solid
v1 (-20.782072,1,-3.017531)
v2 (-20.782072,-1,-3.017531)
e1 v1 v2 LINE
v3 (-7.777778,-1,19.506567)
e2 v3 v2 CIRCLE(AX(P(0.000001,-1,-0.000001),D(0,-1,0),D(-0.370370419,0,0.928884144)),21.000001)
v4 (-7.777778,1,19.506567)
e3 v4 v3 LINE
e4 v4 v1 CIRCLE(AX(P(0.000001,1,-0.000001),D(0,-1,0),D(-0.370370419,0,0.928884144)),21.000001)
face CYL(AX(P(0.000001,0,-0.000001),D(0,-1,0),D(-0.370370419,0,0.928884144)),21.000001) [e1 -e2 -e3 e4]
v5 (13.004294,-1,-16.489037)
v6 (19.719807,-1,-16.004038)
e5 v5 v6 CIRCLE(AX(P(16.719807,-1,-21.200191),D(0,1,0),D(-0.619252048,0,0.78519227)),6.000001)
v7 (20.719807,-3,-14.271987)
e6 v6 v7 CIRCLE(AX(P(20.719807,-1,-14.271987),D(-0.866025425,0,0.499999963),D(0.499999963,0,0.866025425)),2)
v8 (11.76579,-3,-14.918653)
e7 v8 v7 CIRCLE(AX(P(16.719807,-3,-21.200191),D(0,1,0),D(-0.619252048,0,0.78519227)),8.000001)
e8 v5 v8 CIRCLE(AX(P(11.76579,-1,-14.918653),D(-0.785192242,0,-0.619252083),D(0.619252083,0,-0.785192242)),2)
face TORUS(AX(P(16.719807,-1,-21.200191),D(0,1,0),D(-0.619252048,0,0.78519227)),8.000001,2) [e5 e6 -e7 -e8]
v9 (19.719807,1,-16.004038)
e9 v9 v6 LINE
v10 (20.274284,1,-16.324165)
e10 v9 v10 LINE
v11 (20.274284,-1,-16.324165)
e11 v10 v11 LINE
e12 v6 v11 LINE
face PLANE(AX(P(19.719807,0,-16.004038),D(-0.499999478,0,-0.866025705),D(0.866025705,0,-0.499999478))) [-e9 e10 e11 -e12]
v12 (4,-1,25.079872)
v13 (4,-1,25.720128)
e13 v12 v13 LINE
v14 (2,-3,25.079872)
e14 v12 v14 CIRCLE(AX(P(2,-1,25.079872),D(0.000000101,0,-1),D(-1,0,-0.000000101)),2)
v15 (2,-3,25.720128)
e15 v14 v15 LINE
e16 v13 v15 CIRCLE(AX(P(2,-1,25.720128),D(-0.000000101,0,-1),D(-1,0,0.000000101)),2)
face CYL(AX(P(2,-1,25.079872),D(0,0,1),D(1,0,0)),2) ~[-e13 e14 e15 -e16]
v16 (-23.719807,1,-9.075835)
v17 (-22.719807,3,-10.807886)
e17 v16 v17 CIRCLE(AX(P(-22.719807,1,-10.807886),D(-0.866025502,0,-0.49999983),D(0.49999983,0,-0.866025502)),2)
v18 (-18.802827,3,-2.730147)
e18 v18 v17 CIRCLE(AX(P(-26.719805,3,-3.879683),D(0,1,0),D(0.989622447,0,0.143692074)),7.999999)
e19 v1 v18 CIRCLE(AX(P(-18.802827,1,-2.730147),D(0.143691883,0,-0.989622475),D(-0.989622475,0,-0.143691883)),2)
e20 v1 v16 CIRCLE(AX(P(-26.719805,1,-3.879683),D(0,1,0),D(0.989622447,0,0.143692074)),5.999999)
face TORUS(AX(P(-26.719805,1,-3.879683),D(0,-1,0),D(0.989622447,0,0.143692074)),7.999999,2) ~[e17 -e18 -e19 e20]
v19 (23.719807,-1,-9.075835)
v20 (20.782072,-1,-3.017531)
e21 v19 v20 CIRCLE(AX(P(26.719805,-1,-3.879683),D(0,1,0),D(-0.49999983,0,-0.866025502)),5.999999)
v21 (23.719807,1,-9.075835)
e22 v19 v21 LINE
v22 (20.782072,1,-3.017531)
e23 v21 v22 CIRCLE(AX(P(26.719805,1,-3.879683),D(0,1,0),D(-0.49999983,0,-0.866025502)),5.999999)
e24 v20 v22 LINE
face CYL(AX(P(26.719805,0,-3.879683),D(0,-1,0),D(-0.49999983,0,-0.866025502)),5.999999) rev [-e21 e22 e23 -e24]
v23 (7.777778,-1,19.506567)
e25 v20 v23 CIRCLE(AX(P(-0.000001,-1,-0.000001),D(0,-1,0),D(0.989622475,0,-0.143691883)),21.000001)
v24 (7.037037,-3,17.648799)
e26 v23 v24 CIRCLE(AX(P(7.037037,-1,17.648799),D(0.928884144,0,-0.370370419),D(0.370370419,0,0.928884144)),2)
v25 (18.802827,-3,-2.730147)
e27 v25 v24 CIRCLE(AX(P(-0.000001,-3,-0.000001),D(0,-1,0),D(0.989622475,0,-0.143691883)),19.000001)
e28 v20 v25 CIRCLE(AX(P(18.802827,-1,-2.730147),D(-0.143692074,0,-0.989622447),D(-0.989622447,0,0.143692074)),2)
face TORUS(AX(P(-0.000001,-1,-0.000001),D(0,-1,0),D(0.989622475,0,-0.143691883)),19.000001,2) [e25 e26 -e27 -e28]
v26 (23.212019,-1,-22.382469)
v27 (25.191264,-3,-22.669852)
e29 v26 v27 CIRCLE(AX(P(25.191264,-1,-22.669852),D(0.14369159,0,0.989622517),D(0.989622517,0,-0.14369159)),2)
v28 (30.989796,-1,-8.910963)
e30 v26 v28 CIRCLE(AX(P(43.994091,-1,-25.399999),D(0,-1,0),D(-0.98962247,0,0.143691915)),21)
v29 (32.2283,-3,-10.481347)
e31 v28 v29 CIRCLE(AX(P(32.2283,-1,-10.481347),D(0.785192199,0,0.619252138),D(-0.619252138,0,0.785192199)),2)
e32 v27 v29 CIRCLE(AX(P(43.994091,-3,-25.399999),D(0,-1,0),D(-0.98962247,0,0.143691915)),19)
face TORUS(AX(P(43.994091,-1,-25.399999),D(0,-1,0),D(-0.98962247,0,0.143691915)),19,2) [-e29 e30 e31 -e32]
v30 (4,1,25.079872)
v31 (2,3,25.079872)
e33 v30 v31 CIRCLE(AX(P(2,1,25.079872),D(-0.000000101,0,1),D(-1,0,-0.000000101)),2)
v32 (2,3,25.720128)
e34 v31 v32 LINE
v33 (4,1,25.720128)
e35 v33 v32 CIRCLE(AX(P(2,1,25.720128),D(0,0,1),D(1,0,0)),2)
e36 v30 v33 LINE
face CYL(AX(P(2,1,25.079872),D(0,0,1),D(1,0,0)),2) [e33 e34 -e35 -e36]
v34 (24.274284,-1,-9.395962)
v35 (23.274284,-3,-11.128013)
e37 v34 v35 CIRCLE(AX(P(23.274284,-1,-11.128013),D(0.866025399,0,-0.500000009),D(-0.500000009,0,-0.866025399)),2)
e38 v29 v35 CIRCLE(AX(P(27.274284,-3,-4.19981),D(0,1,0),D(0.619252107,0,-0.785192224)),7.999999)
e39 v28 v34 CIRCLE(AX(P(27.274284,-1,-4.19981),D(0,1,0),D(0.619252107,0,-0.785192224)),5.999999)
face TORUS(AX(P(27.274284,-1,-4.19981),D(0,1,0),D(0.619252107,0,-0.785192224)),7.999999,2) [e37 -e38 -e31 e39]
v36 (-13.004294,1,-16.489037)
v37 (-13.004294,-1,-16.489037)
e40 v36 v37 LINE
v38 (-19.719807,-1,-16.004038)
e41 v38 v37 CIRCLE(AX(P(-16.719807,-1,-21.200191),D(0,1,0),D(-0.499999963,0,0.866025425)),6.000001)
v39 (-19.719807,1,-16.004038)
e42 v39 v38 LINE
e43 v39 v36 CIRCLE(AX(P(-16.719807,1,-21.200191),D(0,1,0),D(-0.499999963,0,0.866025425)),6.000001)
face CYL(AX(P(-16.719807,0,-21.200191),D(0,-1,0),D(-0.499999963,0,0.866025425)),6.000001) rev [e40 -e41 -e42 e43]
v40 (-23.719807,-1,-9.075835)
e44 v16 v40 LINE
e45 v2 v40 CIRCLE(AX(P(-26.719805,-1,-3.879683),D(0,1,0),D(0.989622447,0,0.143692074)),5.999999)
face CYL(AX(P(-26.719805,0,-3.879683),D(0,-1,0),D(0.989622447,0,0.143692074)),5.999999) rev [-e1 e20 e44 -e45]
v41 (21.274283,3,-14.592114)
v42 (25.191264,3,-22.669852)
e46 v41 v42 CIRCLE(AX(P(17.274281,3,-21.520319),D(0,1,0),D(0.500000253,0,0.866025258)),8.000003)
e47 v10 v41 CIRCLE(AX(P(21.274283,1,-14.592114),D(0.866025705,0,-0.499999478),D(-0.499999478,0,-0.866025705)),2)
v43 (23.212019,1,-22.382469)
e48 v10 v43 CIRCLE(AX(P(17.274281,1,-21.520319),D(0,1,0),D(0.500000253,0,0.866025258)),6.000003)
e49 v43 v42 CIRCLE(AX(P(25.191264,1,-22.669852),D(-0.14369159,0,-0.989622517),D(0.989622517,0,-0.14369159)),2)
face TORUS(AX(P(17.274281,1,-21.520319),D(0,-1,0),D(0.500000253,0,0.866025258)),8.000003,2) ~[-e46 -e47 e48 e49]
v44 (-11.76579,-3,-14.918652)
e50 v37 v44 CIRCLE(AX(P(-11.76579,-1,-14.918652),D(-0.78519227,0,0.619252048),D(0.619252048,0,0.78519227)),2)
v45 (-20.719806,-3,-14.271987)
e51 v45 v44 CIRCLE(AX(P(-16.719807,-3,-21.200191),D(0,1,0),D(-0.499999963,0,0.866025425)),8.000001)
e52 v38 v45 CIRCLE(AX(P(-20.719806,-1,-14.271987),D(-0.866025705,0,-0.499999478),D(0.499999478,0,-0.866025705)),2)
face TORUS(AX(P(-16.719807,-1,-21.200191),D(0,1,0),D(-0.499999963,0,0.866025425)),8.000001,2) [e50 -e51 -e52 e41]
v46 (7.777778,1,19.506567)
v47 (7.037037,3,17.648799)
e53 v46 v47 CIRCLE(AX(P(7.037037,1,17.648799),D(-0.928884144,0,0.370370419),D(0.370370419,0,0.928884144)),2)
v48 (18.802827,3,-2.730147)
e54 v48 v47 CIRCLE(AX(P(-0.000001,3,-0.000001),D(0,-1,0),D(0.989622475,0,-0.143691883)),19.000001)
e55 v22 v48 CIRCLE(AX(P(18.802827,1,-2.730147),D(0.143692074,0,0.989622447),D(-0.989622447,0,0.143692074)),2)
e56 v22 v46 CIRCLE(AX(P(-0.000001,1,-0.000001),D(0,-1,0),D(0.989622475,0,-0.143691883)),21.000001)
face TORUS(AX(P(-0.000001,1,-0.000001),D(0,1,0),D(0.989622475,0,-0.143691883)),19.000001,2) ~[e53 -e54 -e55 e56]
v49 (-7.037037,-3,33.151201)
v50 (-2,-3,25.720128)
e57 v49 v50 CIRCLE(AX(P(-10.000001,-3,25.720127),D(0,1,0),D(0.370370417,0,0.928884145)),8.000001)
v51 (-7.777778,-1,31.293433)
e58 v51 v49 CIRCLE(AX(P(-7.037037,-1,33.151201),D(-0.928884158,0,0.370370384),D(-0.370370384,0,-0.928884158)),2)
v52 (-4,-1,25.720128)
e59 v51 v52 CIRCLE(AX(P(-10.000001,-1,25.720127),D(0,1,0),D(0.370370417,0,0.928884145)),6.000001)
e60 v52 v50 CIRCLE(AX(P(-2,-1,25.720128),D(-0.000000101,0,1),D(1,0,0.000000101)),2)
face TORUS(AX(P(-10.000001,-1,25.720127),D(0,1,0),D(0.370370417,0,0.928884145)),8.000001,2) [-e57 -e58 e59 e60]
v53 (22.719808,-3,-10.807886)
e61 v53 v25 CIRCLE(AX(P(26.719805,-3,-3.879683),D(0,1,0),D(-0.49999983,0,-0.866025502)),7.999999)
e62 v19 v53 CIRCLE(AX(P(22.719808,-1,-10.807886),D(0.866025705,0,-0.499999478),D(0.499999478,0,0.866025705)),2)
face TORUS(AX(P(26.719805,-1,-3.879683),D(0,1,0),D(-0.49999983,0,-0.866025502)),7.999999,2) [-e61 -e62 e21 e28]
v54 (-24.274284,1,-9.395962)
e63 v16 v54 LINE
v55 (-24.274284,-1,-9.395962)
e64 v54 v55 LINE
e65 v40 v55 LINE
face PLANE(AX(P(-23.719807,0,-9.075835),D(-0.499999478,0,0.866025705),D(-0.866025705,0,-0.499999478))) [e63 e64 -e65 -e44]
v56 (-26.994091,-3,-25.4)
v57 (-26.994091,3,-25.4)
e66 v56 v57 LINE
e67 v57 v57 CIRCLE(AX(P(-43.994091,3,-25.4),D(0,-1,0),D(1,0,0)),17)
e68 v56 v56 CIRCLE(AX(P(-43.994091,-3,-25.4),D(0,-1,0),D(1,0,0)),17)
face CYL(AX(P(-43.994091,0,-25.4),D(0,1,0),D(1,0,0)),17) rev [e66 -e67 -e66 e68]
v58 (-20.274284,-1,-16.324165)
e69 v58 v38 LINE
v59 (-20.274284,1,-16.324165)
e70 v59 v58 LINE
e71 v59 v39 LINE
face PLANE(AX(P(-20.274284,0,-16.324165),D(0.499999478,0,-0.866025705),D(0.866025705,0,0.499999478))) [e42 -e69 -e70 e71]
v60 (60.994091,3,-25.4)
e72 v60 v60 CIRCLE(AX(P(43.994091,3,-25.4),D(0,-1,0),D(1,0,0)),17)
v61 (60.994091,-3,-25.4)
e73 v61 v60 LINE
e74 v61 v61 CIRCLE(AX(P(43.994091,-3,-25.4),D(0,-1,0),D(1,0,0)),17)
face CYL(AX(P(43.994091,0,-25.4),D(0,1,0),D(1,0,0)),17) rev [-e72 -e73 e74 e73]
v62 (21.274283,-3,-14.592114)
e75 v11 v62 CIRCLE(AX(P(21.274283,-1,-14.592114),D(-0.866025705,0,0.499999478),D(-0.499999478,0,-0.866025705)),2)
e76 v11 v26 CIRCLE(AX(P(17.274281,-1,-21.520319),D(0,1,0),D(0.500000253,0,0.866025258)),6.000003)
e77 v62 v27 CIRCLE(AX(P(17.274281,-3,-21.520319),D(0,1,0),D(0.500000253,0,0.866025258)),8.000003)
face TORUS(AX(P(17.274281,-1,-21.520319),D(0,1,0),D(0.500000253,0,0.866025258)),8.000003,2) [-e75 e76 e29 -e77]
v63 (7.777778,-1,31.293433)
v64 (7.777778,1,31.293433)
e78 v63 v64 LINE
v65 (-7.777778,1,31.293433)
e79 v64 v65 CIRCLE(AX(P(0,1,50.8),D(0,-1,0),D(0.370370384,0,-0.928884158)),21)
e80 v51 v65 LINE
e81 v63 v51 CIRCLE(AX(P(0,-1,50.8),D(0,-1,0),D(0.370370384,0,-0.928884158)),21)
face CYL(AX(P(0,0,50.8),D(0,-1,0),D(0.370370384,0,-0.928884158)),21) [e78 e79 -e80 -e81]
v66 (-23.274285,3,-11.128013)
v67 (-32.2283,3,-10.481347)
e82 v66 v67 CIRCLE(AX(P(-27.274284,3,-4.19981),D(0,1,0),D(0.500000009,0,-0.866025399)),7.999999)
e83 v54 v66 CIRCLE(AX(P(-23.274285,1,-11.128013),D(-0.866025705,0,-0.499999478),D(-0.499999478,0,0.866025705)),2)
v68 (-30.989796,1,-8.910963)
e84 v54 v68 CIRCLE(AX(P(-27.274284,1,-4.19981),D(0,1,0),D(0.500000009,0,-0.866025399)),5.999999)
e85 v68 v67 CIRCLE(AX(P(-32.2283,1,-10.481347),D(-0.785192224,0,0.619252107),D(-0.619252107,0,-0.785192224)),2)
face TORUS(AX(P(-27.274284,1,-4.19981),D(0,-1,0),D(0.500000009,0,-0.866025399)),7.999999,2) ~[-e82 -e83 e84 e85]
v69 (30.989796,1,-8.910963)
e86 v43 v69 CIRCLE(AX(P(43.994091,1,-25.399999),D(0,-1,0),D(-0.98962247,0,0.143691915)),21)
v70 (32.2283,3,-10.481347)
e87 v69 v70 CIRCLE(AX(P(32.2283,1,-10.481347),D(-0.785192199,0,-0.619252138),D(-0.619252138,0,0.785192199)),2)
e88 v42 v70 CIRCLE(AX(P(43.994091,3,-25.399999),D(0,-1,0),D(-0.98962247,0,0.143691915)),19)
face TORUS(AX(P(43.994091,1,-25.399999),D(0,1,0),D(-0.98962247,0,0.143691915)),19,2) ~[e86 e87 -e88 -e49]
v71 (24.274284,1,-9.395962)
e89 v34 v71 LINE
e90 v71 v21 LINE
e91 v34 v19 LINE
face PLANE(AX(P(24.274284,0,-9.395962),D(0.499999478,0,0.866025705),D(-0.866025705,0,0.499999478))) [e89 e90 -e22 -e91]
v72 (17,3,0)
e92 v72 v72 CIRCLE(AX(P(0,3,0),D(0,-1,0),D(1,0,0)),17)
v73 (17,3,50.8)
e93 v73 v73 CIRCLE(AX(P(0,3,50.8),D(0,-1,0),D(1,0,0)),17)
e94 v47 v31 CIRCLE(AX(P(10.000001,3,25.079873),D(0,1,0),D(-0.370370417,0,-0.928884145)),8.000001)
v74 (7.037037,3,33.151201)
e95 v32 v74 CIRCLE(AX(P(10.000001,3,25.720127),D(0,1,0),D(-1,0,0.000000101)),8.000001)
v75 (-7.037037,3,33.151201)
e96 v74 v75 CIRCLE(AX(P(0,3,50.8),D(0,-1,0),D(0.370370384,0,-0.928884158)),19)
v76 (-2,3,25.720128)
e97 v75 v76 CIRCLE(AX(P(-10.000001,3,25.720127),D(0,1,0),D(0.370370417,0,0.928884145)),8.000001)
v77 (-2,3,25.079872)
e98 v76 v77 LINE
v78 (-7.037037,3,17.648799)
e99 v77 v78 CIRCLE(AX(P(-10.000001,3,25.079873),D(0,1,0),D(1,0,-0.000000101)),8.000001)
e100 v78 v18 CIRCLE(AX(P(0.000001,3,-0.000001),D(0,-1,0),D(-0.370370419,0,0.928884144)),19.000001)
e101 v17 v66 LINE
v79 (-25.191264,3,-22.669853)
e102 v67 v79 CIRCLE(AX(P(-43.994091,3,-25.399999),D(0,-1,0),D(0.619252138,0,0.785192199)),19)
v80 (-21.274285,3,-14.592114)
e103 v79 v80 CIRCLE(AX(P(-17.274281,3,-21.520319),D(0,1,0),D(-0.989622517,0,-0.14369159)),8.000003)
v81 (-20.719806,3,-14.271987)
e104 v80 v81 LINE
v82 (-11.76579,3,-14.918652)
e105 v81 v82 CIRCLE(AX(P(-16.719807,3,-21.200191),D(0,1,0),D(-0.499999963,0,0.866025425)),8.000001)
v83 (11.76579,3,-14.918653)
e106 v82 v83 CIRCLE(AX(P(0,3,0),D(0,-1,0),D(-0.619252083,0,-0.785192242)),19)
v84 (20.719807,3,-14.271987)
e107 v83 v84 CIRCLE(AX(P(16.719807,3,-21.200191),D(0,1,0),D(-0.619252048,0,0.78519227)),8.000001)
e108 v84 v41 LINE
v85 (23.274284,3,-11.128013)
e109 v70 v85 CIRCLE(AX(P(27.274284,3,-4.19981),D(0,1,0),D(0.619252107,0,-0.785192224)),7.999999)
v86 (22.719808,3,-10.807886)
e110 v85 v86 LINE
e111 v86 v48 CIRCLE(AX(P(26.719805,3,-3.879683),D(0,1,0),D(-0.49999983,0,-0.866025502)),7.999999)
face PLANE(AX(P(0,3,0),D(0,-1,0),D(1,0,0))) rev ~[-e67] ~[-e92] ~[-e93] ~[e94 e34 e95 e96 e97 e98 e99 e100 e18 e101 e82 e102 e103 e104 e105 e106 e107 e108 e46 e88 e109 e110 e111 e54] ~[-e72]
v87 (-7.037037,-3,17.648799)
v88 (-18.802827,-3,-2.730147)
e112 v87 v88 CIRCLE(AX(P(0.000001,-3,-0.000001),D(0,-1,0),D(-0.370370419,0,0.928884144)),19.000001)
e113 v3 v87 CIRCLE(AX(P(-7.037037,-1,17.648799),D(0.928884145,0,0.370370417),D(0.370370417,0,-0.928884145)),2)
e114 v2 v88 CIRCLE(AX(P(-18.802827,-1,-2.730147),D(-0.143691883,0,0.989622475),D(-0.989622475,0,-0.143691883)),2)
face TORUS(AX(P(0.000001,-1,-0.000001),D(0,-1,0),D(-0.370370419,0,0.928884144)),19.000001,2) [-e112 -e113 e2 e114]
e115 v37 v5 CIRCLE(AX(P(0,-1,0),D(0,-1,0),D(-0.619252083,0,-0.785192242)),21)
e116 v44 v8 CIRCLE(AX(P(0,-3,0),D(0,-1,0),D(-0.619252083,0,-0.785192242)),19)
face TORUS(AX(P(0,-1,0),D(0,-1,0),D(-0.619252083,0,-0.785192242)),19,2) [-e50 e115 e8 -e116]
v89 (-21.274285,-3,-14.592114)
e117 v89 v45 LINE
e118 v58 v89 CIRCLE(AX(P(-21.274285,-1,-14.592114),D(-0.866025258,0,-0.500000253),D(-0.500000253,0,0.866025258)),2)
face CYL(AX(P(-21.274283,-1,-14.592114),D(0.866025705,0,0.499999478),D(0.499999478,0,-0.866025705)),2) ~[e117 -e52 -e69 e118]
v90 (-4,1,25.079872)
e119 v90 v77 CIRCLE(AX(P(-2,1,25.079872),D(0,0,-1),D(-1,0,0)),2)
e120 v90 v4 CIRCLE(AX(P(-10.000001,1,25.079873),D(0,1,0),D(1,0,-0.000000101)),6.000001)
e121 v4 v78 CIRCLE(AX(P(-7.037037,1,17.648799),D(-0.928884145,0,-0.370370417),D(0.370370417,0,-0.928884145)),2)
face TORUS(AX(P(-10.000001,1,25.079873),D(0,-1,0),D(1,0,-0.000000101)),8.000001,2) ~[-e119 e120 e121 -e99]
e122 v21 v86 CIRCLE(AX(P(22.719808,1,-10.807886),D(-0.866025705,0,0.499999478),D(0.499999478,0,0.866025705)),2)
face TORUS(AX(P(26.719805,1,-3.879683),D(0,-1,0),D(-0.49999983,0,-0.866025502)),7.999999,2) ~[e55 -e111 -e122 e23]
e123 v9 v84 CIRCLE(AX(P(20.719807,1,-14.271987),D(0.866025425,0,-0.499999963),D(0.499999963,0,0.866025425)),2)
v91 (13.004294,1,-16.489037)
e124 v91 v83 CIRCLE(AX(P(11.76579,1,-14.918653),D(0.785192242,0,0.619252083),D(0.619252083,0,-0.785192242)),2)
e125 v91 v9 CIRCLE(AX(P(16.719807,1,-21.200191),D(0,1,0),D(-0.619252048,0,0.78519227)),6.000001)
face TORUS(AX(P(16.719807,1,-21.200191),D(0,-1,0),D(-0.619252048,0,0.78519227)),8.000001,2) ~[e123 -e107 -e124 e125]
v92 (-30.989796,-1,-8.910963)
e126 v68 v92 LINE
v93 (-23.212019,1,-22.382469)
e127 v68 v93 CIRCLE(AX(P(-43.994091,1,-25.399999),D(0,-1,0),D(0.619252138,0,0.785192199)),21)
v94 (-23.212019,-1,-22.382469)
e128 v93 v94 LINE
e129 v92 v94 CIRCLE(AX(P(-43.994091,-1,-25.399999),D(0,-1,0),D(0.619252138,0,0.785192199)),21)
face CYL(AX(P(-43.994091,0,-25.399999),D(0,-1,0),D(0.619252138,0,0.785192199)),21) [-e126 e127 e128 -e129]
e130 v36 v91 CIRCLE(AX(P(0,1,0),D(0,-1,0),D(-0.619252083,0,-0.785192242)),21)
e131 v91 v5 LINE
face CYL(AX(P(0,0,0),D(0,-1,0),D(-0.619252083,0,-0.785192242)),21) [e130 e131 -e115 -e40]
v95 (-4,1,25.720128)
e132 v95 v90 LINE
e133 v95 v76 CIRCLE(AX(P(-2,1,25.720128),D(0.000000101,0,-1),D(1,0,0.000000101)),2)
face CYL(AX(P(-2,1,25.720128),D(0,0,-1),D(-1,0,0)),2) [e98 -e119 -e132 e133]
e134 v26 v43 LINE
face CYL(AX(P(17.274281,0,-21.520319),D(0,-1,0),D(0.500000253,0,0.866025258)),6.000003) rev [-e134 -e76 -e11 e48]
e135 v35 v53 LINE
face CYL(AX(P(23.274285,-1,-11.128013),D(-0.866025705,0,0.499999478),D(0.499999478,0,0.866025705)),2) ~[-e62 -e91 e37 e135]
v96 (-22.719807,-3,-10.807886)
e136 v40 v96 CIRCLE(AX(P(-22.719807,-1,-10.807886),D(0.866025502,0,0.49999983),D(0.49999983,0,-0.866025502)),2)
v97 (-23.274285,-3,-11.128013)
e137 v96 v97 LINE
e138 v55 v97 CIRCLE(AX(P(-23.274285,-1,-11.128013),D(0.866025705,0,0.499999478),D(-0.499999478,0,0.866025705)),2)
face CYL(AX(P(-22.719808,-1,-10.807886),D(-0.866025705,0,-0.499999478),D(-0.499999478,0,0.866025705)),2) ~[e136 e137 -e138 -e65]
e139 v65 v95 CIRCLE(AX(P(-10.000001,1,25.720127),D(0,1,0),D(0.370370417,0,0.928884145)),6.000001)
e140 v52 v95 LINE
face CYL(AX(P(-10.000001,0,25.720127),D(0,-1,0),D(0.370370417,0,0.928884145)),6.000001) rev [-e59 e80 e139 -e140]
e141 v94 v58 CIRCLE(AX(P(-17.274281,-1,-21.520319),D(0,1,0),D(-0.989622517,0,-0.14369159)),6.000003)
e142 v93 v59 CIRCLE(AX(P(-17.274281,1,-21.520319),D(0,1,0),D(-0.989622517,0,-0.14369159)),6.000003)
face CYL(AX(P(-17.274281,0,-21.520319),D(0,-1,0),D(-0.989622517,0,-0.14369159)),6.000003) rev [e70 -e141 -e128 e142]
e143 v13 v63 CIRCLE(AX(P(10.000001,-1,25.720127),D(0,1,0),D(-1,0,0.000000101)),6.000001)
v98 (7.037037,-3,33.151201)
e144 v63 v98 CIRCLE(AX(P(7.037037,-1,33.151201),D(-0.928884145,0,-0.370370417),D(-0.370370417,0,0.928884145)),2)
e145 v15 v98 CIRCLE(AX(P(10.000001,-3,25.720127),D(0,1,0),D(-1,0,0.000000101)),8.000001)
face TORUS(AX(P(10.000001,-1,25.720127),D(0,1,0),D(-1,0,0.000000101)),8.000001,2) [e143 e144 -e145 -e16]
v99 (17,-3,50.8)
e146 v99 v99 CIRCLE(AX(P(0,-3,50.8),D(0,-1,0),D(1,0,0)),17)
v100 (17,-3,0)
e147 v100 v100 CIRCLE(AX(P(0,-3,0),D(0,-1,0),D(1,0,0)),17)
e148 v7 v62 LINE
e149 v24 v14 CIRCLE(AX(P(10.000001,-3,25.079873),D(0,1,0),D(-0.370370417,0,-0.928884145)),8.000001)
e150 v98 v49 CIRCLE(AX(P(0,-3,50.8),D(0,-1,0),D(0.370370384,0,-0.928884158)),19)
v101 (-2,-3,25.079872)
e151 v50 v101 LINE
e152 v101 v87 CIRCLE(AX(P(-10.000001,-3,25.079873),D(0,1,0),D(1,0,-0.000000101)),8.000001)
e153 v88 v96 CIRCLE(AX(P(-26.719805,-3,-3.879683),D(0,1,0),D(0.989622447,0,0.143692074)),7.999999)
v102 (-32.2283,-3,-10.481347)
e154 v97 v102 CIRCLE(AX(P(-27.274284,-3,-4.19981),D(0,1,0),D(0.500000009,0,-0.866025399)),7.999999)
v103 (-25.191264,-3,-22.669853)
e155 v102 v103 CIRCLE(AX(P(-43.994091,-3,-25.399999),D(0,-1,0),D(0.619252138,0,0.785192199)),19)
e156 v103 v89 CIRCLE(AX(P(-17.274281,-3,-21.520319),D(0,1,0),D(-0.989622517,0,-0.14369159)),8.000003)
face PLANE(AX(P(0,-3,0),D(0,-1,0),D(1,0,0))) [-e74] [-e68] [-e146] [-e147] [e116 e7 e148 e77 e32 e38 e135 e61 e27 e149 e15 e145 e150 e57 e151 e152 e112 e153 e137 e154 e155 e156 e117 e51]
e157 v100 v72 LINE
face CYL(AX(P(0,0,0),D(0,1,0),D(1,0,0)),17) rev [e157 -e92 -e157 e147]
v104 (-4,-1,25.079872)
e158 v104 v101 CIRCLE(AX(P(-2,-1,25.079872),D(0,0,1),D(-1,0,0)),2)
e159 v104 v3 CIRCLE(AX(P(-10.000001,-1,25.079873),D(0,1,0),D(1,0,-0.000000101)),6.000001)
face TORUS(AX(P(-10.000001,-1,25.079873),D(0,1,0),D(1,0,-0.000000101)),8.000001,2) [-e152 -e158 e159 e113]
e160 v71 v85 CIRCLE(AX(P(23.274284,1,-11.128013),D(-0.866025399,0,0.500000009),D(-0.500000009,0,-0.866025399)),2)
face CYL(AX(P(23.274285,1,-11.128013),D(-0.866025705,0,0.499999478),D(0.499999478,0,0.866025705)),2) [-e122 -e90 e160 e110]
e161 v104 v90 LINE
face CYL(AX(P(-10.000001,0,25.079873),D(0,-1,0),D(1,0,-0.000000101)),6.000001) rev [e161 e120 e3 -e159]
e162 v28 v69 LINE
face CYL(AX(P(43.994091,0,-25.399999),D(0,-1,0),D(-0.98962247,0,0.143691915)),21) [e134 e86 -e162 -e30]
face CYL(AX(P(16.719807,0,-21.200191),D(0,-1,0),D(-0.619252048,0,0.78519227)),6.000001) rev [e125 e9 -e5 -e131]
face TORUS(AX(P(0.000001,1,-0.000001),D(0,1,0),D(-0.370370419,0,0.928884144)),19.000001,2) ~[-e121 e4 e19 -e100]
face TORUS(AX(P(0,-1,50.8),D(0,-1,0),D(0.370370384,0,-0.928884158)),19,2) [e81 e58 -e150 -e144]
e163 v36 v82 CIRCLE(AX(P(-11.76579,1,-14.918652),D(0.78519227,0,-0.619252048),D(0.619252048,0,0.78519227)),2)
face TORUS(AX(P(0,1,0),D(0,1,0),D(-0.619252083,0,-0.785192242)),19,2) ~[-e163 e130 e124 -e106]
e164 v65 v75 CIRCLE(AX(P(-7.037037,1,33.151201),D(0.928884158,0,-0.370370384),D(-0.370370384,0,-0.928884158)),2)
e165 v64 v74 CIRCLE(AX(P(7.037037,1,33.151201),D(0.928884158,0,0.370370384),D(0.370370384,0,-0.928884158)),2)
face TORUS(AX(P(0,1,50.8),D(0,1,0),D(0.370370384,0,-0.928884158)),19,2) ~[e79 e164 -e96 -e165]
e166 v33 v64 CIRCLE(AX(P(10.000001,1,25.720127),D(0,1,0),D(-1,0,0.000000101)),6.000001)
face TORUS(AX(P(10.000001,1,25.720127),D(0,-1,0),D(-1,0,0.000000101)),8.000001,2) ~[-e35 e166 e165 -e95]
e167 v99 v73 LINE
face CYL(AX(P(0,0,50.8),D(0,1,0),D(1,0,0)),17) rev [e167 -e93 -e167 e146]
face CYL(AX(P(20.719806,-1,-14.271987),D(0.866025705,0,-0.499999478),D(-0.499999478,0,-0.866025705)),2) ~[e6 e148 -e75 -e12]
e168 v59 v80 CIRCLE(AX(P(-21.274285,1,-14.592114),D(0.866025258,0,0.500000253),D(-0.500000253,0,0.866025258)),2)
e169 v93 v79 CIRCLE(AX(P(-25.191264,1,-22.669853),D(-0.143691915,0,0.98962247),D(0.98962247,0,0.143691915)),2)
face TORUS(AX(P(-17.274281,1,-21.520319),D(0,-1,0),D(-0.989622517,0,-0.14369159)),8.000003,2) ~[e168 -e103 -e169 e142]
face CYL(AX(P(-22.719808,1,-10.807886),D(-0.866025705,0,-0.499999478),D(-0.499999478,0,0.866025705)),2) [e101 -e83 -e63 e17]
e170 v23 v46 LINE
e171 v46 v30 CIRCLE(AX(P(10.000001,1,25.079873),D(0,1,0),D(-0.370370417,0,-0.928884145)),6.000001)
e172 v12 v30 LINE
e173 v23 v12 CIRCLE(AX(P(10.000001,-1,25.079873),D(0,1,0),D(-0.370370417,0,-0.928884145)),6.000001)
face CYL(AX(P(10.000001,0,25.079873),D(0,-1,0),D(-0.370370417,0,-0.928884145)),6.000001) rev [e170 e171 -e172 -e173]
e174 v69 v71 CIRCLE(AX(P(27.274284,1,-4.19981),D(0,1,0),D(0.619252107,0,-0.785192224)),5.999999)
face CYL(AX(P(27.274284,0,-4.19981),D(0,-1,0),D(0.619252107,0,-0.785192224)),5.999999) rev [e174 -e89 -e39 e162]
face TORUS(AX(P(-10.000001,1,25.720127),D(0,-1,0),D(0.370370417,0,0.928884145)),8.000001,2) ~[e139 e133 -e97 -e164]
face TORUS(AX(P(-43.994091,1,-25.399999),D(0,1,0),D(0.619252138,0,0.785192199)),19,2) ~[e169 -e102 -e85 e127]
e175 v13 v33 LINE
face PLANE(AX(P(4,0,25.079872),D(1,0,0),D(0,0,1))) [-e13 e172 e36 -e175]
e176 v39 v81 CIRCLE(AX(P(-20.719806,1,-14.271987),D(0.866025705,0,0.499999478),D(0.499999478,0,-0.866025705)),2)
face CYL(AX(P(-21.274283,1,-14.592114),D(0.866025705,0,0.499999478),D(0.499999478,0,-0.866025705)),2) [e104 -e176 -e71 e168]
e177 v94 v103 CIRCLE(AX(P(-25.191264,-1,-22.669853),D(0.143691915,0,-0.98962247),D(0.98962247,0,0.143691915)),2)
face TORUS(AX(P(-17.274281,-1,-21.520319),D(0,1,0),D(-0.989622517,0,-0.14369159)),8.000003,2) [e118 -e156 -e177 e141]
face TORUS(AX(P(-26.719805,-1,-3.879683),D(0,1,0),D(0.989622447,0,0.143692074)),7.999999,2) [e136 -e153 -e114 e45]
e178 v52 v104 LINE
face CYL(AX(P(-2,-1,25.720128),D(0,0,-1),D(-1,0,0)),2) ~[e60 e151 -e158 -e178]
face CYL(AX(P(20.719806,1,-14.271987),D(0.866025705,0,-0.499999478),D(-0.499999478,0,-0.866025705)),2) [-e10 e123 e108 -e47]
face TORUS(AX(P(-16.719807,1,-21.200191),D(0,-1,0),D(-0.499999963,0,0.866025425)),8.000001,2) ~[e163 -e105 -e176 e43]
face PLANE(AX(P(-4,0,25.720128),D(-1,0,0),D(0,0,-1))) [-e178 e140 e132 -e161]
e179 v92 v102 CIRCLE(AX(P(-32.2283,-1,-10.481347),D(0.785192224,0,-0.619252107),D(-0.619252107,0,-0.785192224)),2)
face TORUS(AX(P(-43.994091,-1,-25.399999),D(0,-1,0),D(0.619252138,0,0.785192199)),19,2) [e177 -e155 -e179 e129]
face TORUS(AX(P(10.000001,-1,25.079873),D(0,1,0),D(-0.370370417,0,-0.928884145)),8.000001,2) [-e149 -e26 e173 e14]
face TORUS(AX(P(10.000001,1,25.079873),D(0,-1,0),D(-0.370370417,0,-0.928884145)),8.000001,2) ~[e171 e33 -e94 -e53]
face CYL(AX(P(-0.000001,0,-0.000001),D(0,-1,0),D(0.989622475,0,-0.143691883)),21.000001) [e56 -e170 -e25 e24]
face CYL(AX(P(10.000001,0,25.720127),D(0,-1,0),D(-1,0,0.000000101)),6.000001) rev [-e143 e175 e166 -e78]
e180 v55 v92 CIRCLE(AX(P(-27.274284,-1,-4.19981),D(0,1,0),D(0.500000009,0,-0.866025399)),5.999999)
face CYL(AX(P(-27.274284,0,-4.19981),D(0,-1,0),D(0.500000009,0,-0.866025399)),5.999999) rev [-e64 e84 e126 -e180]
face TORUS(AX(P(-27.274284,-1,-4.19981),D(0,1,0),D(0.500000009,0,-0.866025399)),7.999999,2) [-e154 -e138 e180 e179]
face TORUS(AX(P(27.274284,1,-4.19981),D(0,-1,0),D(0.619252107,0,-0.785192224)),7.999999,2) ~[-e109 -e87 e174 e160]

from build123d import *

# Parameters (mm, degrees)
F0_R     = 17
F1_DEPTH = 3
F2_R     = 2


with BuildPart() as f1:
    # F0 (on Front) → F1 (new body, symmetric)
    with BuildSketch(Plane.XZ):
        with BuildLine():
            ThreePointArc((-4, 25.079872), (-5.033445, 21.713371), (-7.777778, 19.506567))
            ThreePointArc((-7.777778, 19.506567), (-18.186533, 10.5), (-20.782072, -3.017531))
            ThreePointArc((-20.782072, -3.017531), (-21.321053, -6.497594), (-23.719807, -9.075835))
            Line((-23.719807, -9.075835), (-24.274284, -9.395962))
            ThreePointArc((-24.274284, -9.395962), (-27.706482, -10.184223), (-30.989796, -8.910963))
            ThreePointArc((-30.989796, -8.910963), (-62.180624, -35.9), (-23.212019, -22.382469))
            ThreePointArc((-23.212019, -22.382469), (-22.673037, -18.902406), (-20.274284, -16.324165))
            Line((-20.274284, -16.324165), (-19.719807, -16.004038))
            ThreePointArc((-19.719807, -16.004038), (-16.287608, -15.215777), (-13.004294, -16.489037))
            ThreePointArc((-13.004294, -16.489037), (0, -21), (13.004294, -16.489037))
            ThreePointArc((13.004294, -16.489037), (16.287608, -15.215777), (19.719807, -16.004038))
            Line((19.719807, -16.004038), (20.274284, -16.324165))
            ThreePointArc((20.274284, -16.324165), (22.673037, -18.902406), (23.212019, -22.382469))
            ThreePointArc((23.212019, -22.382469), (62.180624, -35.9), (30.989796, -8.910963))
            ThreePointArc((30.989796, -8.910963), (27.706482, -10.184223), (24.274284, -9.395962))
            Line((24.274284, -9.395962), (23.719807, -9.075835))
            ThreePointArc((23.719807, -9.075835), (21.321053, -6.497594), (20.782072, -3.017531))
            ThreePointArc((20.782072, -3.017531), (18.186533, 10.5), (7.777778, 19.506567))
            ThreePointArc((7.777778, 19.506567), (5.033445, 21.713371), (4, 25.079872))
            Line((4, 25.079872), (4, 25.720128))
            ThreePointArc((4, 25.720128), (5.033445, 29.086629), (7.777778, 31.293433))
            ThreePointArc((7.777778, 31.293433), (0, 71.8), (-7.777778, 31.293433))
            ThreePointArc((-7.777778, 31.293433), (-5.033445, 29.086629), (-4, 25.720128))
            Line((-4, 25.720128), (-4, 25.079872))
        make_face()
        with Locations((-43.994091, -25.4)):
            Circle(F0_R, mode=Mode.SUBTRACT)
        with Locations((43.994091, -25.4)):
            Circle(F0_R, mode=Mode.SUBTRACT)
        Circle(F0_R, mode=Mode.SUBTRACT)
        with Locations((0, 50.8)):
            Circle(F0_R, mode=Mode.SUBTRACT)
    extrude(amount=F1_DEPTH, both=True)

    # F2
    f2_edges = [f1.edges().sort_by_distance(p)[0] for p in [
        (0, 3, 71.8),
        (5.033445, 3, 29.086629),
        (7.777778, 0, 31.293433),
        (5.033445, -3, 29.086629),
        (4, 0, 25.720128),
        (4, 0, 25.079872),
        (7.777778, 0, 19.506567),
        (5.033445, 3, 21.713371),
        (5.033445, -3, 21.713371),
        (20.782072, 0, -3.017531),
        (21.321053, 3, -6.497594),
    ]]
    fillet(f2_edges, radius=F2_R)


solid = f1.part
